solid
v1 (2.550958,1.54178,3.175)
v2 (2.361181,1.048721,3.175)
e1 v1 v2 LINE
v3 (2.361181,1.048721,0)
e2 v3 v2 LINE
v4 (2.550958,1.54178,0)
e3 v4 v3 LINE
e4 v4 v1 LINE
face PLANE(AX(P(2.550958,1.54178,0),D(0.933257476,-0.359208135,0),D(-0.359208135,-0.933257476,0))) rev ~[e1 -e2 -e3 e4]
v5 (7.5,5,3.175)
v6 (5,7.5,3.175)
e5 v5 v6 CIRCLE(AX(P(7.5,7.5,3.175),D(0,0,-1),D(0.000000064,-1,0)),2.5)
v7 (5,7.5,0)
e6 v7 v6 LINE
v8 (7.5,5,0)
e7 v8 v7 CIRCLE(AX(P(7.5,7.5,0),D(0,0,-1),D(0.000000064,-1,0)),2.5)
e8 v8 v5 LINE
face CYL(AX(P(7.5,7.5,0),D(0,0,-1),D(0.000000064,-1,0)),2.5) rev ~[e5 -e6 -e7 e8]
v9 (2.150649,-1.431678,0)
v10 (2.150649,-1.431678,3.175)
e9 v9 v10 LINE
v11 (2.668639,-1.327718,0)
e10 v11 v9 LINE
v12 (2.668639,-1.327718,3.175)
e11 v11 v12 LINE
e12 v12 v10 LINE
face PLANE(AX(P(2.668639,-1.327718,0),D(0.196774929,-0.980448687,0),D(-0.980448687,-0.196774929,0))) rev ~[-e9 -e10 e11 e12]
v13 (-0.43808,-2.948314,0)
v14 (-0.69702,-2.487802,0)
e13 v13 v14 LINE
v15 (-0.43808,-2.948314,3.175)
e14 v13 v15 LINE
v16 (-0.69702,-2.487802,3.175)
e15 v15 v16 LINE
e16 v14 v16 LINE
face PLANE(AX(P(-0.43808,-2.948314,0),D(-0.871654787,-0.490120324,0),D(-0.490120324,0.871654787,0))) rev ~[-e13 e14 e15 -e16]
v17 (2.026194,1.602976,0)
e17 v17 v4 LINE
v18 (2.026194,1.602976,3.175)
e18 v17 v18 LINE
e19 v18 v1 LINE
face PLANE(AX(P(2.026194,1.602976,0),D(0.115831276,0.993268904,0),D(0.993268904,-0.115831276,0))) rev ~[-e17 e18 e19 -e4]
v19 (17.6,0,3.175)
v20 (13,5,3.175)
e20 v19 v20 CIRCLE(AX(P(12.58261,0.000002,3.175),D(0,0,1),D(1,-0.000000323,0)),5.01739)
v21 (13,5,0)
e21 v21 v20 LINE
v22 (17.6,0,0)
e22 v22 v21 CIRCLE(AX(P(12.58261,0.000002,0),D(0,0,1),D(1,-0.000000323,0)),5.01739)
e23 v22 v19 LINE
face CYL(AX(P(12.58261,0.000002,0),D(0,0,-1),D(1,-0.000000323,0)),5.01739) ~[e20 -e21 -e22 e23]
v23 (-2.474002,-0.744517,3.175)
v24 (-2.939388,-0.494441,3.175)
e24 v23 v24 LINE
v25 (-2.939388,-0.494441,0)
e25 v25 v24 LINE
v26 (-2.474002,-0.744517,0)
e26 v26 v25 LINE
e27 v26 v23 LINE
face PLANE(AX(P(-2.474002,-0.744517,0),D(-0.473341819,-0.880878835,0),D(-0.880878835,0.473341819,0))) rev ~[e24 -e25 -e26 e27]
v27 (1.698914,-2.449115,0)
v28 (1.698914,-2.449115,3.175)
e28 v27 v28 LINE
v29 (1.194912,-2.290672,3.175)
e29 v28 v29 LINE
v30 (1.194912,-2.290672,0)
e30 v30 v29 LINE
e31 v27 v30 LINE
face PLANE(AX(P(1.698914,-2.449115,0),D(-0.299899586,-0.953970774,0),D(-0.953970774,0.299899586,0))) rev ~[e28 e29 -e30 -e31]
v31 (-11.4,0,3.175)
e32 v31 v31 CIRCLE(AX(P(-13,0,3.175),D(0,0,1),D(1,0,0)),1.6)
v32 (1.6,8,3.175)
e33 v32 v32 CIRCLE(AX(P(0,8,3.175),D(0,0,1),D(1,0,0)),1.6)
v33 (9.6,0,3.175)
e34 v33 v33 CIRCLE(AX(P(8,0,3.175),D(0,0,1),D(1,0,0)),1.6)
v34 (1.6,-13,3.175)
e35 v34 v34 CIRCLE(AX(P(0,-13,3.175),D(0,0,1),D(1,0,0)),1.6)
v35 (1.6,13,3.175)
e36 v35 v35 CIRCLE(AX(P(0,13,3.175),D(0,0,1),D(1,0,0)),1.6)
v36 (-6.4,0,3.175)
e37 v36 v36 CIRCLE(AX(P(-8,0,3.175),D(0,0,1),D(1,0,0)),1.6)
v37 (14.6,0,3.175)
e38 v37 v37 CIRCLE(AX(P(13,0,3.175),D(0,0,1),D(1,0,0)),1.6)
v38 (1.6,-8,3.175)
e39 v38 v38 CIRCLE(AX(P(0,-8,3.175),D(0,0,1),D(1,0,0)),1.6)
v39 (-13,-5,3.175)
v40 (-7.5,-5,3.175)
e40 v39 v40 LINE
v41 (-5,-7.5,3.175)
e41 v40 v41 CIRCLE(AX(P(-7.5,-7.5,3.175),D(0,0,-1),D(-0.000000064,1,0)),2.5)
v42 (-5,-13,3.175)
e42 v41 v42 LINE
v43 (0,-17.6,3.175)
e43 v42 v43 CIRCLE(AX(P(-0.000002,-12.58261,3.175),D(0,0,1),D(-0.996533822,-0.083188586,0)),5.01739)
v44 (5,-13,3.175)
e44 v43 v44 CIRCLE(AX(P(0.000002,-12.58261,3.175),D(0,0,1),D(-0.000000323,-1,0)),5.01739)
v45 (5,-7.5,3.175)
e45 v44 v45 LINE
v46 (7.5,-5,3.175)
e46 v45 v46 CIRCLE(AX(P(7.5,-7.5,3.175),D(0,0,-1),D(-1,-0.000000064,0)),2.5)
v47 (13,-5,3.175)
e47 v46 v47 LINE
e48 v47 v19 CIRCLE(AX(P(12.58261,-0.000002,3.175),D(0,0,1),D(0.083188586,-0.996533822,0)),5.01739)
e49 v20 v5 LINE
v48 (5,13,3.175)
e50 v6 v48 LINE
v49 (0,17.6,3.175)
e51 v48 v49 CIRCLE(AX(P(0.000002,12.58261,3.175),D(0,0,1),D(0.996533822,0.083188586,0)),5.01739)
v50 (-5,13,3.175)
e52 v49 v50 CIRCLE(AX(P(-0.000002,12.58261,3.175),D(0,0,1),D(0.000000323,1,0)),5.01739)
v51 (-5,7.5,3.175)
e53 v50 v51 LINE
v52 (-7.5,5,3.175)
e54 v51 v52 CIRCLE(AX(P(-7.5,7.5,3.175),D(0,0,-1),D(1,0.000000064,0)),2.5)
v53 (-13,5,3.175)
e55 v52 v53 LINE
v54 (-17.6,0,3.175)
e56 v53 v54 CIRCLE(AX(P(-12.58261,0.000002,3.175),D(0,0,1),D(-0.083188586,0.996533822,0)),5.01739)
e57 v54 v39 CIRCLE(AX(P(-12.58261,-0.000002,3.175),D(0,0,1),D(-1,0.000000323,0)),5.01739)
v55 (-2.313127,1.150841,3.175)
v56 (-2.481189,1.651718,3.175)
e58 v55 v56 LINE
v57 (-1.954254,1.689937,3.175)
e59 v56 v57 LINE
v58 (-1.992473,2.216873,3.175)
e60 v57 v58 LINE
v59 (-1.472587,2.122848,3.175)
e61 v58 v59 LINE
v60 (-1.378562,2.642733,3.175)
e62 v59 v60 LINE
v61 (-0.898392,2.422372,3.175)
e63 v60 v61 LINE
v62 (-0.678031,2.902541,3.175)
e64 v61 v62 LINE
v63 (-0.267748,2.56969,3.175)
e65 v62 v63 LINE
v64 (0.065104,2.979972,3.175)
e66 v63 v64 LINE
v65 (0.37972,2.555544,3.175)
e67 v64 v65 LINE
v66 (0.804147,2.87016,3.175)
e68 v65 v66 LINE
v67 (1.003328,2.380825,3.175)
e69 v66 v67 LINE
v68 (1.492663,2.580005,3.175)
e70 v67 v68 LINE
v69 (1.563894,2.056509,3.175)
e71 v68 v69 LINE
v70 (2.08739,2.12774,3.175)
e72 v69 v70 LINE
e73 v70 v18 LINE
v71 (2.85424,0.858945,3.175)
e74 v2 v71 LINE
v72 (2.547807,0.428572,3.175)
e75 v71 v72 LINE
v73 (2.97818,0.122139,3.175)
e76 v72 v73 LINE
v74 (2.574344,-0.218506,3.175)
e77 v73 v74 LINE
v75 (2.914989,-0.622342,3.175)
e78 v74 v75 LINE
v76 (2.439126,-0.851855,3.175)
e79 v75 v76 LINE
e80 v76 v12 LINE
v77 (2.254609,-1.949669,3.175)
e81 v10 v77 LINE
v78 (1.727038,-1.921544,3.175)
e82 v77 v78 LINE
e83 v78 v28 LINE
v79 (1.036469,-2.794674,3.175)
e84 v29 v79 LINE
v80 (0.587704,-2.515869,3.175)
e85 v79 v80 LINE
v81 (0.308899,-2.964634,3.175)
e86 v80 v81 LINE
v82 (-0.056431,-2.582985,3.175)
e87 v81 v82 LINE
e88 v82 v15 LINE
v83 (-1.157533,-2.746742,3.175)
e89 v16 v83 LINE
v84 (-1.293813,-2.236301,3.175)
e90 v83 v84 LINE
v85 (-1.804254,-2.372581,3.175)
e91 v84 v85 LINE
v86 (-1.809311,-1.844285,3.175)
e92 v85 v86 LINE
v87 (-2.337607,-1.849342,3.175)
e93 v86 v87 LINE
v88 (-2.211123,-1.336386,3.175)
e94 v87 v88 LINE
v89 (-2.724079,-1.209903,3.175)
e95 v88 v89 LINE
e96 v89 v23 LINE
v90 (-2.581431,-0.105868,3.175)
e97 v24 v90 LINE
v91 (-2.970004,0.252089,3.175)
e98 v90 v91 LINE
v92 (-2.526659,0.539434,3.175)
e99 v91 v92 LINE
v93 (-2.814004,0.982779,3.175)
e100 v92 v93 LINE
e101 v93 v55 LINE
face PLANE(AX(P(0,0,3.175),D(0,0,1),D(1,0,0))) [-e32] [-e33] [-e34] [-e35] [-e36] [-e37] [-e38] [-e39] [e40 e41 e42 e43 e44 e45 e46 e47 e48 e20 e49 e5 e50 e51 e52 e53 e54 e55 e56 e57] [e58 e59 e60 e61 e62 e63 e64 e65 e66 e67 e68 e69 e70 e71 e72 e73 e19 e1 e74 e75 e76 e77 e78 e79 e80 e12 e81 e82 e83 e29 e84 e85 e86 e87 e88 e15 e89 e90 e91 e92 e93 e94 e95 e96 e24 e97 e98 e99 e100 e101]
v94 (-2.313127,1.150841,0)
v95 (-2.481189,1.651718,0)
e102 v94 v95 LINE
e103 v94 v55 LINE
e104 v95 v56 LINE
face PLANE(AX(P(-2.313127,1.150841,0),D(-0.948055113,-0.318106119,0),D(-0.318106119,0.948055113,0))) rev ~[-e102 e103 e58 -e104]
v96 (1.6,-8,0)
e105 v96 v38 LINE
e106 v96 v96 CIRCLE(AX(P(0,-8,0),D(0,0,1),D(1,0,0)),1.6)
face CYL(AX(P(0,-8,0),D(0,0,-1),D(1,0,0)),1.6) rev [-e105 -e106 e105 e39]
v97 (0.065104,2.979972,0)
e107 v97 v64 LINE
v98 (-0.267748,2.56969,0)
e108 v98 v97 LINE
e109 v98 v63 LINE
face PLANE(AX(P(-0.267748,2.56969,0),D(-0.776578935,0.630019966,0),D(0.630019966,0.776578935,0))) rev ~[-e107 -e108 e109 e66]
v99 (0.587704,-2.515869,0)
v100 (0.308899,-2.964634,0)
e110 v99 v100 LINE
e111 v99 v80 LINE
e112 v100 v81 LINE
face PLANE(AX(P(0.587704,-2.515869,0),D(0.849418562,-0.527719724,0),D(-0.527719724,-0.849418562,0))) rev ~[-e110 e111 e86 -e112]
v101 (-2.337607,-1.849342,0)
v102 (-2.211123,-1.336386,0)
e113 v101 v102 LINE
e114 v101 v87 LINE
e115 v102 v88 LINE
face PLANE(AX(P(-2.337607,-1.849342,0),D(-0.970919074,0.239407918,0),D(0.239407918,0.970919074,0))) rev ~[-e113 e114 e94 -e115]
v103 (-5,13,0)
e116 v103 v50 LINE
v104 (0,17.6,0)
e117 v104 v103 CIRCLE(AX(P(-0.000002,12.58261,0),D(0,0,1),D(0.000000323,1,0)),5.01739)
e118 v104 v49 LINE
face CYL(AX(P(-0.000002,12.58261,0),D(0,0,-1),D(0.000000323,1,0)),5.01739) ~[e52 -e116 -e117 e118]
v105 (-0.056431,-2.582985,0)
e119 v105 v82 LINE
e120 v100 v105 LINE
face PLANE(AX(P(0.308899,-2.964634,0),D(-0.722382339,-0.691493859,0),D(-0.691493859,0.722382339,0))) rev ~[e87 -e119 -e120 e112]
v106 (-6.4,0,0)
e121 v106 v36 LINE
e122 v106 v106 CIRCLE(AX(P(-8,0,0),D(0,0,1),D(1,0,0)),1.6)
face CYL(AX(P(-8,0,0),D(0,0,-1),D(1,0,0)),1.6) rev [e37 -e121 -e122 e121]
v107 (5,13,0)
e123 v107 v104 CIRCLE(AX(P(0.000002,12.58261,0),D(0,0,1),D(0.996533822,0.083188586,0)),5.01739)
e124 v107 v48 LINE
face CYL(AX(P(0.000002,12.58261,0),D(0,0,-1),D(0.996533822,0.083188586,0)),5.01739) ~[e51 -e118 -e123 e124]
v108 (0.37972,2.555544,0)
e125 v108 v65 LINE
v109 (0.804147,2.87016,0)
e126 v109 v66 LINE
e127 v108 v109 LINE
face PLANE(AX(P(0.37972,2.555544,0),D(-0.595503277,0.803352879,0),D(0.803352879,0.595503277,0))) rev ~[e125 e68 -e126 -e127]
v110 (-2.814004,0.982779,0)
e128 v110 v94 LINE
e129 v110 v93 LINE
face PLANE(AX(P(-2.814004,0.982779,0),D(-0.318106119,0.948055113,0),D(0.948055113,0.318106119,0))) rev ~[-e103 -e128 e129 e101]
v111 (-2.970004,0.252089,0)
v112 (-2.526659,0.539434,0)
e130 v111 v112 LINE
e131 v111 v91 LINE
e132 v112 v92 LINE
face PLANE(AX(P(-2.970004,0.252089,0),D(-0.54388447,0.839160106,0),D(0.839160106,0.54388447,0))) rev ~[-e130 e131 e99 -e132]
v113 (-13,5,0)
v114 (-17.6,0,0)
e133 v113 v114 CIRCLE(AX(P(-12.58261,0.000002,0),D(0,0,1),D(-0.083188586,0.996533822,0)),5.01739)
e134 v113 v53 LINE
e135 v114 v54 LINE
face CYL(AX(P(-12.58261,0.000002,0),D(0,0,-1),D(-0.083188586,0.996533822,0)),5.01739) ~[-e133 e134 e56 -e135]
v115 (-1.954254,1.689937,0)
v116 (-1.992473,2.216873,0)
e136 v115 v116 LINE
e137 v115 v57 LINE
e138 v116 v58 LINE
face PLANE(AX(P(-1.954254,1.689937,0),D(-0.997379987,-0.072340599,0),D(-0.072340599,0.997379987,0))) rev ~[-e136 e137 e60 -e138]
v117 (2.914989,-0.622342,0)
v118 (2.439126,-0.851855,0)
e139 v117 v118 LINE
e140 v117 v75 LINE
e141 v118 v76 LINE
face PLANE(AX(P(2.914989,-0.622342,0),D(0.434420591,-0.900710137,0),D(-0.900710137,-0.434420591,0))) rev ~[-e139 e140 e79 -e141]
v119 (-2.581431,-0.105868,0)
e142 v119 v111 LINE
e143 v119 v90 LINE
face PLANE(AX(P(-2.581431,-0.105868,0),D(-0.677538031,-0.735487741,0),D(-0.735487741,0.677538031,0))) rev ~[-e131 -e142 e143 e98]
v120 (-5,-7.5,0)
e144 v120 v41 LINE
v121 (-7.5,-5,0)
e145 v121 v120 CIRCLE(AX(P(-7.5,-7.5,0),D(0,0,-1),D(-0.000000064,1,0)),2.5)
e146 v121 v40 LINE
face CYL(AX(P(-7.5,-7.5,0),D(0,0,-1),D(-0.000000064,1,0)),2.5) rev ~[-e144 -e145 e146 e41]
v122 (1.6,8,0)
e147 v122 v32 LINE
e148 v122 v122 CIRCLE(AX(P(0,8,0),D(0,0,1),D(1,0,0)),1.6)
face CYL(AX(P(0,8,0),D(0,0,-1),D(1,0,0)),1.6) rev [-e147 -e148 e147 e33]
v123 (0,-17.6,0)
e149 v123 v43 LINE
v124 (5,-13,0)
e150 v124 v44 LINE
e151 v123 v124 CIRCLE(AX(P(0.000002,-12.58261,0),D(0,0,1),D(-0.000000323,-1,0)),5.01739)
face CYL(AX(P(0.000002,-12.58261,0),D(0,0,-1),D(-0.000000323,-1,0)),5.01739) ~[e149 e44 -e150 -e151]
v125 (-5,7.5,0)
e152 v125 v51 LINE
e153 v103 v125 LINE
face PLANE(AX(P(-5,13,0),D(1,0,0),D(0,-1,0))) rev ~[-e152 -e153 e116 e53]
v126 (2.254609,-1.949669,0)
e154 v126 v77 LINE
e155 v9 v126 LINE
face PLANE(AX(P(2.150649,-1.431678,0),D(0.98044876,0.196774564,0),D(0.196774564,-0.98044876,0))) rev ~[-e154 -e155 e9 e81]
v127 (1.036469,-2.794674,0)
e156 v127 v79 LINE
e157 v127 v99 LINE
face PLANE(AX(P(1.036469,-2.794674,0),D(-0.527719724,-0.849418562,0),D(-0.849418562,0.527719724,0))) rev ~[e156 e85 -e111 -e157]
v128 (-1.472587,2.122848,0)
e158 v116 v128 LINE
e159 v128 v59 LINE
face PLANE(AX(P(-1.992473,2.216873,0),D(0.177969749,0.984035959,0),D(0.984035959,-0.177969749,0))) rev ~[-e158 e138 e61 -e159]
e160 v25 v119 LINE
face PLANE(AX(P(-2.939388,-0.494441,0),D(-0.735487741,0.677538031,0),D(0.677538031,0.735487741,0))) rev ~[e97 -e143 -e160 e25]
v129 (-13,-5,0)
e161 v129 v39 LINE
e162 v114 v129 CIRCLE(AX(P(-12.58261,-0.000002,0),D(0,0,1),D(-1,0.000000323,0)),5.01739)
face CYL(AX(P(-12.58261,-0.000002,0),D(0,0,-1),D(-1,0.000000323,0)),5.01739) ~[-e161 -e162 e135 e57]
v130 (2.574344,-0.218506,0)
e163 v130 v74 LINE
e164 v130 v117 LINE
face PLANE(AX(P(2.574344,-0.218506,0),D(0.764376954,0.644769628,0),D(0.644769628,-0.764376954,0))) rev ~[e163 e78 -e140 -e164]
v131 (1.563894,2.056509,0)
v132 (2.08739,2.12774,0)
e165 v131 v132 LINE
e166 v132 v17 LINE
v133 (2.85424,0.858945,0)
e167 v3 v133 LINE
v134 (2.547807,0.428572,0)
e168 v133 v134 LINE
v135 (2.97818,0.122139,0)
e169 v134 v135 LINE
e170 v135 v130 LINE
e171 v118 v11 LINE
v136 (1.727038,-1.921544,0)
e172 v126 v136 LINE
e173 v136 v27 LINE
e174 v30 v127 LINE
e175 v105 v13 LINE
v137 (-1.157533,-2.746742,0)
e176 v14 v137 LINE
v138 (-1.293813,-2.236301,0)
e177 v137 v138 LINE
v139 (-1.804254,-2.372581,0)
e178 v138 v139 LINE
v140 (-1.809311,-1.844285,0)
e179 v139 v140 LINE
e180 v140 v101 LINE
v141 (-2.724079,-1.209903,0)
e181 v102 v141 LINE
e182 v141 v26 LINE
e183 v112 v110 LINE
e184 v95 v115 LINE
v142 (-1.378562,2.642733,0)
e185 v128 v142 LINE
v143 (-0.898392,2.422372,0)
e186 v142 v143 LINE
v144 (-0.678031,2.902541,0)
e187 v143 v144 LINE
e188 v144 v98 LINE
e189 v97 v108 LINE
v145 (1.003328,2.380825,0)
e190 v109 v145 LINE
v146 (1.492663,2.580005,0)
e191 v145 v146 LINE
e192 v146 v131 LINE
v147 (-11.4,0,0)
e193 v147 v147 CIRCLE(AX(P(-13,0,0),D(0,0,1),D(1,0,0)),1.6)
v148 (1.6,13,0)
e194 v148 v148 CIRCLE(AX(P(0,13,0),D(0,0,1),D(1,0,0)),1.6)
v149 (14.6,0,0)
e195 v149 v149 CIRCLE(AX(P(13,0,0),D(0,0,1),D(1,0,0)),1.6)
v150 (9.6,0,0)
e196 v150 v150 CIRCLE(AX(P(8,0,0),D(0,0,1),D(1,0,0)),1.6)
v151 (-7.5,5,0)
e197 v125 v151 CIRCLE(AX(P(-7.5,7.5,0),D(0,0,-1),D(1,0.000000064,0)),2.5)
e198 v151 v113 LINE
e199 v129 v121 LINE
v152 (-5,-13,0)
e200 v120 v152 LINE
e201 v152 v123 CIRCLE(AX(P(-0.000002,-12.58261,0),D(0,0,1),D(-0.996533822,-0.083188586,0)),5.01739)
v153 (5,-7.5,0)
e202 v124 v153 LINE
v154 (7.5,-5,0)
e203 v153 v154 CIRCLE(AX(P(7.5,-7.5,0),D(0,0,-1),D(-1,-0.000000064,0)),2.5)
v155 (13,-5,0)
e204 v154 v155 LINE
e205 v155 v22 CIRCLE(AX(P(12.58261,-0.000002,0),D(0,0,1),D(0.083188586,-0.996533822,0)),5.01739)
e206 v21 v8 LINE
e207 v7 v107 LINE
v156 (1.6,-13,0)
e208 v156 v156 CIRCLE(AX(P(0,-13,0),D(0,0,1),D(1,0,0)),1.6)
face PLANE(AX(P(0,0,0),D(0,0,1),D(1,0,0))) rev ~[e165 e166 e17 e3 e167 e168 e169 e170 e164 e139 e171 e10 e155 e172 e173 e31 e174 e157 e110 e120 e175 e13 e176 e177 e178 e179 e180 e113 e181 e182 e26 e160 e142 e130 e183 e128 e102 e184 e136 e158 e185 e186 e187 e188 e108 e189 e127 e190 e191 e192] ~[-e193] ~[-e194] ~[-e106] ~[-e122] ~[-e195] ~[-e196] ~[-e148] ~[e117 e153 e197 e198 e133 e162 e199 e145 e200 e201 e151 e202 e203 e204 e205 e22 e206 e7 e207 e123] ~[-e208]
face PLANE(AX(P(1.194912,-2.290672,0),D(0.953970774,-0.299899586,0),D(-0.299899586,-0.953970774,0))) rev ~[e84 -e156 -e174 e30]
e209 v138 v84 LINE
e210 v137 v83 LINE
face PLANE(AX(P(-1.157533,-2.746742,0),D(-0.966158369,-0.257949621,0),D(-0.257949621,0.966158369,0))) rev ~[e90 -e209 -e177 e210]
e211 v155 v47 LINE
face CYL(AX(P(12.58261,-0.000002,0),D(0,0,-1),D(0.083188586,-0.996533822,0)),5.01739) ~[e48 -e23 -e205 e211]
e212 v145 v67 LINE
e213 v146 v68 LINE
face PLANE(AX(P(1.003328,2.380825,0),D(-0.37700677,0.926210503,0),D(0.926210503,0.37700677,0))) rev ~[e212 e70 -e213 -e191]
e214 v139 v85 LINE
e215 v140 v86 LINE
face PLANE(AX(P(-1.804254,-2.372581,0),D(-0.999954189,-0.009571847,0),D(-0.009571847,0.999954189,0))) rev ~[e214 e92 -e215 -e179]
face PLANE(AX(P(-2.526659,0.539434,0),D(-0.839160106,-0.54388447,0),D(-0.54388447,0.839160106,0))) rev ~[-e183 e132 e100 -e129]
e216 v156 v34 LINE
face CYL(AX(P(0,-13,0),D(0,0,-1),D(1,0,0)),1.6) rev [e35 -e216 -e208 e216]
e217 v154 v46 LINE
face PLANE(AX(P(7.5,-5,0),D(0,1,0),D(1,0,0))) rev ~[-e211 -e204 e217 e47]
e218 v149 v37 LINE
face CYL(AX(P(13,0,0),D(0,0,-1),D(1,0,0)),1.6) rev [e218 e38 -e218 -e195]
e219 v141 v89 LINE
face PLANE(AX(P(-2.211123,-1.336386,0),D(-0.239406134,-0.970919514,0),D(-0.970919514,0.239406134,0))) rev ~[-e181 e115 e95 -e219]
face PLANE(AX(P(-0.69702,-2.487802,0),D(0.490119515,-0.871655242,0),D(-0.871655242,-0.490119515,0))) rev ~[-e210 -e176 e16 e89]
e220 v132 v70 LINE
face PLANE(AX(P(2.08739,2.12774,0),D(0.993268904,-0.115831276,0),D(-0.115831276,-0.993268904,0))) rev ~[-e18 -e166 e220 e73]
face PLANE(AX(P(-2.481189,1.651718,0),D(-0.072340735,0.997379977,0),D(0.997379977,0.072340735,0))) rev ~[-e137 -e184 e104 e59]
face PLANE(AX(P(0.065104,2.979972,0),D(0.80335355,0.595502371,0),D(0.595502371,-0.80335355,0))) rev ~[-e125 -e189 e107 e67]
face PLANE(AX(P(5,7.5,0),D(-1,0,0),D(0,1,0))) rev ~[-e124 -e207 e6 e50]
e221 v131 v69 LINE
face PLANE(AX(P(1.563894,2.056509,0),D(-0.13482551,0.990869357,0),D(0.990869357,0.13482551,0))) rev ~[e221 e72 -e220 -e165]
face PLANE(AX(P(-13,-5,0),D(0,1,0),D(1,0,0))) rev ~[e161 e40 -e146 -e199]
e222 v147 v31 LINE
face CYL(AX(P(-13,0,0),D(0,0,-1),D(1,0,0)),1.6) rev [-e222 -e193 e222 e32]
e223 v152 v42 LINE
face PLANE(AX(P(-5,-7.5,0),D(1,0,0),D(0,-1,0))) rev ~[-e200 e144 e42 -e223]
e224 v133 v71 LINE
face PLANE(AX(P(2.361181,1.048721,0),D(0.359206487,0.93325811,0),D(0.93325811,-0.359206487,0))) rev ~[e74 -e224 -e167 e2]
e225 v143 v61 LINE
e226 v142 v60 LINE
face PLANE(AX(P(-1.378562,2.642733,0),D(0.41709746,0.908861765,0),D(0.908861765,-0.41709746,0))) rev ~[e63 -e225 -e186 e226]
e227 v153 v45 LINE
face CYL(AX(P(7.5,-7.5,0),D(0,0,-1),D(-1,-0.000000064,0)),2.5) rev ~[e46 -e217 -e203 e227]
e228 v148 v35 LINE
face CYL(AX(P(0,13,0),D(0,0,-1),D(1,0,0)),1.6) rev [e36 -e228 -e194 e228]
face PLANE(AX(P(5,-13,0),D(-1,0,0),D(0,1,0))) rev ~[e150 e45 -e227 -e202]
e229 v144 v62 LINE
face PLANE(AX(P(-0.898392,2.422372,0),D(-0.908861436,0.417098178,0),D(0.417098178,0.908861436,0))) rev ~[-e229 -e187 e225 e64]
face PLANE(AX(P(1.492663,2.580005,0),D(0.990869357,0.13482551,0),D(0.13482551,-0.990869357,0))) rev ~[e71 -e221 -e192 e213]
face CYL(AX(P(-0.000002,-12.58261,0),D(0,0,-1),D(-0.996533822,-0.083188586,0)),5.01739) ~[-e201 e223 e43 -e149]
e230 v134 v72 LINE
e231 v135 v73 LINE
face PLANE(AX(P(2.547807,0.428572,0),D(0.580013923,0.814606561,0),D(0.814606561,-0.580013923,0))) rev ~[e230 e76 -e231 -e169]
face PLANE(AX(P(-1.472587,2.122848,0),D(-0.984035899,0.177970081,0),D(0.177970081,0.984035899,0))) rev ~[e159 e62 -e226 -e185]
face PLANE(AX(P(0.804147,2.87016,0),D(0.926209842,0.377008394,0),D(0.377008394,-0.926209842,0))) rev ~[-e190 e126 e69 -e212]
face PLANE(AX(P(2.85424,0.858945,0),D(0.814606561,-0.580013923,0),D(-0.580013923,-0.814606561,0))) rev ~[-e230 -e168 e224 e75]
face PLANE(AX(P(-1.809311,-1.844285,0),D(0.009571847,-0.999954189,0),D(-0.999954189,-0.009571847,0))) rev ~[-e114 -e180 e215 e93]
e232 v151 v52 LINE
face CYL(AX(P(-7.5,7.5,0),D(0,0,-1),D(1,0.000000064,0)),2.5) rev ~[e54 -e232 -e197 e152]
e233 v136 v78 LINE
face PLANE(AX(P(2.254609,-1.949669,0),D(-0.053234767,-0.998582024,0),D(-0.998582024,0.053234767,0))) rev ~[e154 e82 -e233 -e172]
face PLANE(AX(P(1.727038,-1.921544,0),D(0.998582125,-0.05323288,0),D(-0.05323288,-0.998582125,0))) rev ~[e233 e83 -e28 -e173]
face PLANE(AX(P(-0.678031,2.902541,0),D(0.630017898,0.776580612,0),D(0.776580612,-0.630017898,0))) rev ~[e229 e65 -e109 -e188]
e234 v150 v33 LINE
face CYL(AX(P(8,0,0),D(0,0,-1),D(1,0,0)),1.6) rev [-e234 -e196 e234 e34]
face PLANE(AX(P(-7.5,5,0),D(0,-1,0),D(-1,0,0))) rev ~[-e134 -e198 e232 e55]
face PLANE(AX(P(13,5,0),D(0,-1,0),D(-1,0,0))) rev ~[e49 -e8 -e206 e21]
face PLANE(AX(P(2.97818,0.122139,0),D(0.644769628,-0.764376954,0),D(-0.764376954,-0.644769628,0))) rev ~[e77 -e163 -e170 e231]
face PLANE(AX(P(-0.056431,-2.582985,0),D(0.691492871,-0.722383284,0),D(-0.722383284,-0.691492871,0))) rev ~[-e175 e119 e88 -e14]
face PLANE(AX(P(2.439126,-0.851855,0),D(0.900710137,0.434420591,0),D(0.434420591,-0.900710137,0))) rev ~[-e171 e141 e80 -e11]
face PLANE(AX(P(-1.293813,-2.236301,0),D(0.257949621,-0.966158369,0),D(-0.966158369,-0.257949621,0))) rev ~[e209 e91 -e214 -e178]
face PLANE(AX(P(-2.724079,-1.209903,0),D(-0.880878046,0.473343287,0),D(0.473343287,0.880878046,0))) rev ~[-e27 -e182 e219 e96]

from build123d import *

# Parameters (mm, degrees)
F0_R     = 1.6
F1_DEPTH = 3.175


with BuildPart() as f1:
    # F0 (on Top) → F1 (new body)
    with BuildSketch(Plane.XY):
        with BuildLine():
            Line((5, 7.5), (5, 13))
            ThreePointArc((5, 13), (3.397058, 16.275063), (0, 17.6))
            ThreePointArc((0, 17.6), (-3.397058, 16.275063), (-5, 13))
            Line((-5, 13), (-5, 7.5))
            ThreePointArc((-5, 7.5), (-5.732233, 5.732233), (-7.5, 5))
            Line((-7.5, 5), (-13, 5))
            ThreePointArc((-13, 5), (-16.275063, 3.397058), (-17.6, 0))
            ThreePointArc((-17.6, 0), (-16.275063, -3.397058), (-13, -5))
            Line((-13, -5), (-7.5, -5))
            ThreePointArc((-7.5, -5), (-5.732233, -5.732233), (-5, -7.5))
            Line((-5, -7.5), (-5, -13))
            ThreePointArc((-5, -13), (-3.397058, -16.275063), (0, -17.6))
            ThreePointArc((0, -17.6), (3.397058, -16.275063), (5, -13))
            Line((5, -13), (5, -7.5))
            ThreePointArc((5, -7.5), (5.732233, -5.732233), (7.5, -5))
            Line((7.5, -5), (13, -5))
            ThreePointArc((13, -5), (16.275063, -3.397058), (17.6, 0))
            ThreePointArc((17.6, 0), (16.275063, 3.397058), (13, 5))
            Line((13, 5), (7.5, 5))
            ThreePointArc((7.5, 5), (5.732233, 5.732233), (5, 7.5))
        make_face()
        with Locations((0, -13)):
            Circle(F0_R, mode=Mode.SUBTRACT)
        with Locations((0, -8)):
            Circle(F0_R, mode=Mode.SUBTRACT)
        with Locations((-13, 0)):
            Circle(F0_R, mode=Mode.SUBTRACT)
        with Locations((-8, 0)):
            Circle(F0_R, mode=Mode.SUBTRACT)
        Polygon((-2.313127, 1.150841), (-2.481189, 1.651718), (-1.954254, 1.689937), (-1.992473, 2.216873), (-1.472587, 2.122848), (-1.378562, 2.642733), (-0.898392, 2.422372), (-0.678031, 2.902541), (-0.267748, 2.56969), (0.065104, 2.979972), (0.37972, 2.555544), (0.804147, 2.87016), (1.003328, 2.380825), (1.492663, 2.580005), (1.563894, 2.056509), (2.08739, 2.12774), (2.026194, 1.602976), (2.550958, 1.54178), (2.361181, 1.048721), (2.85424, 0.858945), (2.547807, 0.428572), (2.97818, 0.122139), (2.574344, -0.218506), (2.914989, -0.622342), (2.439126, -0.851855), (2.668639, -1.327718), (2.150649, -1.431678), (2.254609, -1.949669), (1.727038, -1.921544), (1.698914, -2.449115), (1.194912, -2.290672), (1.036469, -2.794674), (0.587704, -2.515869), (0.308899, -2.964634), (-0.056431, -2.582985), (-0.43808, -2.948314), (-0.69702, -2.487802), (-1.157533, -2.746742), (-1.293813, -2.236301), (-1.804254, -2.372581), (-1.809311, -1.844285), (-2.337607, -1.849342), (-2.211123, -1.336386), (-2.724079, -1.209903), (-2.474002, -0.744517), (-2.939388, -0.494441), (-2.581431, -0.105868), (-2.970004, 0.252089), (-2.526659, 0.539434), (-2.814004, 0.982779), align=None, mode=Mode.SUBTRACT)
        with Locations((8, 0)):
            Circle(F0_R, mode=Mode.SUBTRACT)
        with Locations((0, 8)):
            Circle(F0_R, mode=Mode.SUBTRACT)
        with Locations((13, 0)):
            Circle(F0_R, mode=Mode.SUBTRACT)
        with Locations((0, 13)):
            Circle(F0_R, mode=Mode.SUBTRACT)
    extrude(amount=F1_DEPTH)


solid = f1.part
